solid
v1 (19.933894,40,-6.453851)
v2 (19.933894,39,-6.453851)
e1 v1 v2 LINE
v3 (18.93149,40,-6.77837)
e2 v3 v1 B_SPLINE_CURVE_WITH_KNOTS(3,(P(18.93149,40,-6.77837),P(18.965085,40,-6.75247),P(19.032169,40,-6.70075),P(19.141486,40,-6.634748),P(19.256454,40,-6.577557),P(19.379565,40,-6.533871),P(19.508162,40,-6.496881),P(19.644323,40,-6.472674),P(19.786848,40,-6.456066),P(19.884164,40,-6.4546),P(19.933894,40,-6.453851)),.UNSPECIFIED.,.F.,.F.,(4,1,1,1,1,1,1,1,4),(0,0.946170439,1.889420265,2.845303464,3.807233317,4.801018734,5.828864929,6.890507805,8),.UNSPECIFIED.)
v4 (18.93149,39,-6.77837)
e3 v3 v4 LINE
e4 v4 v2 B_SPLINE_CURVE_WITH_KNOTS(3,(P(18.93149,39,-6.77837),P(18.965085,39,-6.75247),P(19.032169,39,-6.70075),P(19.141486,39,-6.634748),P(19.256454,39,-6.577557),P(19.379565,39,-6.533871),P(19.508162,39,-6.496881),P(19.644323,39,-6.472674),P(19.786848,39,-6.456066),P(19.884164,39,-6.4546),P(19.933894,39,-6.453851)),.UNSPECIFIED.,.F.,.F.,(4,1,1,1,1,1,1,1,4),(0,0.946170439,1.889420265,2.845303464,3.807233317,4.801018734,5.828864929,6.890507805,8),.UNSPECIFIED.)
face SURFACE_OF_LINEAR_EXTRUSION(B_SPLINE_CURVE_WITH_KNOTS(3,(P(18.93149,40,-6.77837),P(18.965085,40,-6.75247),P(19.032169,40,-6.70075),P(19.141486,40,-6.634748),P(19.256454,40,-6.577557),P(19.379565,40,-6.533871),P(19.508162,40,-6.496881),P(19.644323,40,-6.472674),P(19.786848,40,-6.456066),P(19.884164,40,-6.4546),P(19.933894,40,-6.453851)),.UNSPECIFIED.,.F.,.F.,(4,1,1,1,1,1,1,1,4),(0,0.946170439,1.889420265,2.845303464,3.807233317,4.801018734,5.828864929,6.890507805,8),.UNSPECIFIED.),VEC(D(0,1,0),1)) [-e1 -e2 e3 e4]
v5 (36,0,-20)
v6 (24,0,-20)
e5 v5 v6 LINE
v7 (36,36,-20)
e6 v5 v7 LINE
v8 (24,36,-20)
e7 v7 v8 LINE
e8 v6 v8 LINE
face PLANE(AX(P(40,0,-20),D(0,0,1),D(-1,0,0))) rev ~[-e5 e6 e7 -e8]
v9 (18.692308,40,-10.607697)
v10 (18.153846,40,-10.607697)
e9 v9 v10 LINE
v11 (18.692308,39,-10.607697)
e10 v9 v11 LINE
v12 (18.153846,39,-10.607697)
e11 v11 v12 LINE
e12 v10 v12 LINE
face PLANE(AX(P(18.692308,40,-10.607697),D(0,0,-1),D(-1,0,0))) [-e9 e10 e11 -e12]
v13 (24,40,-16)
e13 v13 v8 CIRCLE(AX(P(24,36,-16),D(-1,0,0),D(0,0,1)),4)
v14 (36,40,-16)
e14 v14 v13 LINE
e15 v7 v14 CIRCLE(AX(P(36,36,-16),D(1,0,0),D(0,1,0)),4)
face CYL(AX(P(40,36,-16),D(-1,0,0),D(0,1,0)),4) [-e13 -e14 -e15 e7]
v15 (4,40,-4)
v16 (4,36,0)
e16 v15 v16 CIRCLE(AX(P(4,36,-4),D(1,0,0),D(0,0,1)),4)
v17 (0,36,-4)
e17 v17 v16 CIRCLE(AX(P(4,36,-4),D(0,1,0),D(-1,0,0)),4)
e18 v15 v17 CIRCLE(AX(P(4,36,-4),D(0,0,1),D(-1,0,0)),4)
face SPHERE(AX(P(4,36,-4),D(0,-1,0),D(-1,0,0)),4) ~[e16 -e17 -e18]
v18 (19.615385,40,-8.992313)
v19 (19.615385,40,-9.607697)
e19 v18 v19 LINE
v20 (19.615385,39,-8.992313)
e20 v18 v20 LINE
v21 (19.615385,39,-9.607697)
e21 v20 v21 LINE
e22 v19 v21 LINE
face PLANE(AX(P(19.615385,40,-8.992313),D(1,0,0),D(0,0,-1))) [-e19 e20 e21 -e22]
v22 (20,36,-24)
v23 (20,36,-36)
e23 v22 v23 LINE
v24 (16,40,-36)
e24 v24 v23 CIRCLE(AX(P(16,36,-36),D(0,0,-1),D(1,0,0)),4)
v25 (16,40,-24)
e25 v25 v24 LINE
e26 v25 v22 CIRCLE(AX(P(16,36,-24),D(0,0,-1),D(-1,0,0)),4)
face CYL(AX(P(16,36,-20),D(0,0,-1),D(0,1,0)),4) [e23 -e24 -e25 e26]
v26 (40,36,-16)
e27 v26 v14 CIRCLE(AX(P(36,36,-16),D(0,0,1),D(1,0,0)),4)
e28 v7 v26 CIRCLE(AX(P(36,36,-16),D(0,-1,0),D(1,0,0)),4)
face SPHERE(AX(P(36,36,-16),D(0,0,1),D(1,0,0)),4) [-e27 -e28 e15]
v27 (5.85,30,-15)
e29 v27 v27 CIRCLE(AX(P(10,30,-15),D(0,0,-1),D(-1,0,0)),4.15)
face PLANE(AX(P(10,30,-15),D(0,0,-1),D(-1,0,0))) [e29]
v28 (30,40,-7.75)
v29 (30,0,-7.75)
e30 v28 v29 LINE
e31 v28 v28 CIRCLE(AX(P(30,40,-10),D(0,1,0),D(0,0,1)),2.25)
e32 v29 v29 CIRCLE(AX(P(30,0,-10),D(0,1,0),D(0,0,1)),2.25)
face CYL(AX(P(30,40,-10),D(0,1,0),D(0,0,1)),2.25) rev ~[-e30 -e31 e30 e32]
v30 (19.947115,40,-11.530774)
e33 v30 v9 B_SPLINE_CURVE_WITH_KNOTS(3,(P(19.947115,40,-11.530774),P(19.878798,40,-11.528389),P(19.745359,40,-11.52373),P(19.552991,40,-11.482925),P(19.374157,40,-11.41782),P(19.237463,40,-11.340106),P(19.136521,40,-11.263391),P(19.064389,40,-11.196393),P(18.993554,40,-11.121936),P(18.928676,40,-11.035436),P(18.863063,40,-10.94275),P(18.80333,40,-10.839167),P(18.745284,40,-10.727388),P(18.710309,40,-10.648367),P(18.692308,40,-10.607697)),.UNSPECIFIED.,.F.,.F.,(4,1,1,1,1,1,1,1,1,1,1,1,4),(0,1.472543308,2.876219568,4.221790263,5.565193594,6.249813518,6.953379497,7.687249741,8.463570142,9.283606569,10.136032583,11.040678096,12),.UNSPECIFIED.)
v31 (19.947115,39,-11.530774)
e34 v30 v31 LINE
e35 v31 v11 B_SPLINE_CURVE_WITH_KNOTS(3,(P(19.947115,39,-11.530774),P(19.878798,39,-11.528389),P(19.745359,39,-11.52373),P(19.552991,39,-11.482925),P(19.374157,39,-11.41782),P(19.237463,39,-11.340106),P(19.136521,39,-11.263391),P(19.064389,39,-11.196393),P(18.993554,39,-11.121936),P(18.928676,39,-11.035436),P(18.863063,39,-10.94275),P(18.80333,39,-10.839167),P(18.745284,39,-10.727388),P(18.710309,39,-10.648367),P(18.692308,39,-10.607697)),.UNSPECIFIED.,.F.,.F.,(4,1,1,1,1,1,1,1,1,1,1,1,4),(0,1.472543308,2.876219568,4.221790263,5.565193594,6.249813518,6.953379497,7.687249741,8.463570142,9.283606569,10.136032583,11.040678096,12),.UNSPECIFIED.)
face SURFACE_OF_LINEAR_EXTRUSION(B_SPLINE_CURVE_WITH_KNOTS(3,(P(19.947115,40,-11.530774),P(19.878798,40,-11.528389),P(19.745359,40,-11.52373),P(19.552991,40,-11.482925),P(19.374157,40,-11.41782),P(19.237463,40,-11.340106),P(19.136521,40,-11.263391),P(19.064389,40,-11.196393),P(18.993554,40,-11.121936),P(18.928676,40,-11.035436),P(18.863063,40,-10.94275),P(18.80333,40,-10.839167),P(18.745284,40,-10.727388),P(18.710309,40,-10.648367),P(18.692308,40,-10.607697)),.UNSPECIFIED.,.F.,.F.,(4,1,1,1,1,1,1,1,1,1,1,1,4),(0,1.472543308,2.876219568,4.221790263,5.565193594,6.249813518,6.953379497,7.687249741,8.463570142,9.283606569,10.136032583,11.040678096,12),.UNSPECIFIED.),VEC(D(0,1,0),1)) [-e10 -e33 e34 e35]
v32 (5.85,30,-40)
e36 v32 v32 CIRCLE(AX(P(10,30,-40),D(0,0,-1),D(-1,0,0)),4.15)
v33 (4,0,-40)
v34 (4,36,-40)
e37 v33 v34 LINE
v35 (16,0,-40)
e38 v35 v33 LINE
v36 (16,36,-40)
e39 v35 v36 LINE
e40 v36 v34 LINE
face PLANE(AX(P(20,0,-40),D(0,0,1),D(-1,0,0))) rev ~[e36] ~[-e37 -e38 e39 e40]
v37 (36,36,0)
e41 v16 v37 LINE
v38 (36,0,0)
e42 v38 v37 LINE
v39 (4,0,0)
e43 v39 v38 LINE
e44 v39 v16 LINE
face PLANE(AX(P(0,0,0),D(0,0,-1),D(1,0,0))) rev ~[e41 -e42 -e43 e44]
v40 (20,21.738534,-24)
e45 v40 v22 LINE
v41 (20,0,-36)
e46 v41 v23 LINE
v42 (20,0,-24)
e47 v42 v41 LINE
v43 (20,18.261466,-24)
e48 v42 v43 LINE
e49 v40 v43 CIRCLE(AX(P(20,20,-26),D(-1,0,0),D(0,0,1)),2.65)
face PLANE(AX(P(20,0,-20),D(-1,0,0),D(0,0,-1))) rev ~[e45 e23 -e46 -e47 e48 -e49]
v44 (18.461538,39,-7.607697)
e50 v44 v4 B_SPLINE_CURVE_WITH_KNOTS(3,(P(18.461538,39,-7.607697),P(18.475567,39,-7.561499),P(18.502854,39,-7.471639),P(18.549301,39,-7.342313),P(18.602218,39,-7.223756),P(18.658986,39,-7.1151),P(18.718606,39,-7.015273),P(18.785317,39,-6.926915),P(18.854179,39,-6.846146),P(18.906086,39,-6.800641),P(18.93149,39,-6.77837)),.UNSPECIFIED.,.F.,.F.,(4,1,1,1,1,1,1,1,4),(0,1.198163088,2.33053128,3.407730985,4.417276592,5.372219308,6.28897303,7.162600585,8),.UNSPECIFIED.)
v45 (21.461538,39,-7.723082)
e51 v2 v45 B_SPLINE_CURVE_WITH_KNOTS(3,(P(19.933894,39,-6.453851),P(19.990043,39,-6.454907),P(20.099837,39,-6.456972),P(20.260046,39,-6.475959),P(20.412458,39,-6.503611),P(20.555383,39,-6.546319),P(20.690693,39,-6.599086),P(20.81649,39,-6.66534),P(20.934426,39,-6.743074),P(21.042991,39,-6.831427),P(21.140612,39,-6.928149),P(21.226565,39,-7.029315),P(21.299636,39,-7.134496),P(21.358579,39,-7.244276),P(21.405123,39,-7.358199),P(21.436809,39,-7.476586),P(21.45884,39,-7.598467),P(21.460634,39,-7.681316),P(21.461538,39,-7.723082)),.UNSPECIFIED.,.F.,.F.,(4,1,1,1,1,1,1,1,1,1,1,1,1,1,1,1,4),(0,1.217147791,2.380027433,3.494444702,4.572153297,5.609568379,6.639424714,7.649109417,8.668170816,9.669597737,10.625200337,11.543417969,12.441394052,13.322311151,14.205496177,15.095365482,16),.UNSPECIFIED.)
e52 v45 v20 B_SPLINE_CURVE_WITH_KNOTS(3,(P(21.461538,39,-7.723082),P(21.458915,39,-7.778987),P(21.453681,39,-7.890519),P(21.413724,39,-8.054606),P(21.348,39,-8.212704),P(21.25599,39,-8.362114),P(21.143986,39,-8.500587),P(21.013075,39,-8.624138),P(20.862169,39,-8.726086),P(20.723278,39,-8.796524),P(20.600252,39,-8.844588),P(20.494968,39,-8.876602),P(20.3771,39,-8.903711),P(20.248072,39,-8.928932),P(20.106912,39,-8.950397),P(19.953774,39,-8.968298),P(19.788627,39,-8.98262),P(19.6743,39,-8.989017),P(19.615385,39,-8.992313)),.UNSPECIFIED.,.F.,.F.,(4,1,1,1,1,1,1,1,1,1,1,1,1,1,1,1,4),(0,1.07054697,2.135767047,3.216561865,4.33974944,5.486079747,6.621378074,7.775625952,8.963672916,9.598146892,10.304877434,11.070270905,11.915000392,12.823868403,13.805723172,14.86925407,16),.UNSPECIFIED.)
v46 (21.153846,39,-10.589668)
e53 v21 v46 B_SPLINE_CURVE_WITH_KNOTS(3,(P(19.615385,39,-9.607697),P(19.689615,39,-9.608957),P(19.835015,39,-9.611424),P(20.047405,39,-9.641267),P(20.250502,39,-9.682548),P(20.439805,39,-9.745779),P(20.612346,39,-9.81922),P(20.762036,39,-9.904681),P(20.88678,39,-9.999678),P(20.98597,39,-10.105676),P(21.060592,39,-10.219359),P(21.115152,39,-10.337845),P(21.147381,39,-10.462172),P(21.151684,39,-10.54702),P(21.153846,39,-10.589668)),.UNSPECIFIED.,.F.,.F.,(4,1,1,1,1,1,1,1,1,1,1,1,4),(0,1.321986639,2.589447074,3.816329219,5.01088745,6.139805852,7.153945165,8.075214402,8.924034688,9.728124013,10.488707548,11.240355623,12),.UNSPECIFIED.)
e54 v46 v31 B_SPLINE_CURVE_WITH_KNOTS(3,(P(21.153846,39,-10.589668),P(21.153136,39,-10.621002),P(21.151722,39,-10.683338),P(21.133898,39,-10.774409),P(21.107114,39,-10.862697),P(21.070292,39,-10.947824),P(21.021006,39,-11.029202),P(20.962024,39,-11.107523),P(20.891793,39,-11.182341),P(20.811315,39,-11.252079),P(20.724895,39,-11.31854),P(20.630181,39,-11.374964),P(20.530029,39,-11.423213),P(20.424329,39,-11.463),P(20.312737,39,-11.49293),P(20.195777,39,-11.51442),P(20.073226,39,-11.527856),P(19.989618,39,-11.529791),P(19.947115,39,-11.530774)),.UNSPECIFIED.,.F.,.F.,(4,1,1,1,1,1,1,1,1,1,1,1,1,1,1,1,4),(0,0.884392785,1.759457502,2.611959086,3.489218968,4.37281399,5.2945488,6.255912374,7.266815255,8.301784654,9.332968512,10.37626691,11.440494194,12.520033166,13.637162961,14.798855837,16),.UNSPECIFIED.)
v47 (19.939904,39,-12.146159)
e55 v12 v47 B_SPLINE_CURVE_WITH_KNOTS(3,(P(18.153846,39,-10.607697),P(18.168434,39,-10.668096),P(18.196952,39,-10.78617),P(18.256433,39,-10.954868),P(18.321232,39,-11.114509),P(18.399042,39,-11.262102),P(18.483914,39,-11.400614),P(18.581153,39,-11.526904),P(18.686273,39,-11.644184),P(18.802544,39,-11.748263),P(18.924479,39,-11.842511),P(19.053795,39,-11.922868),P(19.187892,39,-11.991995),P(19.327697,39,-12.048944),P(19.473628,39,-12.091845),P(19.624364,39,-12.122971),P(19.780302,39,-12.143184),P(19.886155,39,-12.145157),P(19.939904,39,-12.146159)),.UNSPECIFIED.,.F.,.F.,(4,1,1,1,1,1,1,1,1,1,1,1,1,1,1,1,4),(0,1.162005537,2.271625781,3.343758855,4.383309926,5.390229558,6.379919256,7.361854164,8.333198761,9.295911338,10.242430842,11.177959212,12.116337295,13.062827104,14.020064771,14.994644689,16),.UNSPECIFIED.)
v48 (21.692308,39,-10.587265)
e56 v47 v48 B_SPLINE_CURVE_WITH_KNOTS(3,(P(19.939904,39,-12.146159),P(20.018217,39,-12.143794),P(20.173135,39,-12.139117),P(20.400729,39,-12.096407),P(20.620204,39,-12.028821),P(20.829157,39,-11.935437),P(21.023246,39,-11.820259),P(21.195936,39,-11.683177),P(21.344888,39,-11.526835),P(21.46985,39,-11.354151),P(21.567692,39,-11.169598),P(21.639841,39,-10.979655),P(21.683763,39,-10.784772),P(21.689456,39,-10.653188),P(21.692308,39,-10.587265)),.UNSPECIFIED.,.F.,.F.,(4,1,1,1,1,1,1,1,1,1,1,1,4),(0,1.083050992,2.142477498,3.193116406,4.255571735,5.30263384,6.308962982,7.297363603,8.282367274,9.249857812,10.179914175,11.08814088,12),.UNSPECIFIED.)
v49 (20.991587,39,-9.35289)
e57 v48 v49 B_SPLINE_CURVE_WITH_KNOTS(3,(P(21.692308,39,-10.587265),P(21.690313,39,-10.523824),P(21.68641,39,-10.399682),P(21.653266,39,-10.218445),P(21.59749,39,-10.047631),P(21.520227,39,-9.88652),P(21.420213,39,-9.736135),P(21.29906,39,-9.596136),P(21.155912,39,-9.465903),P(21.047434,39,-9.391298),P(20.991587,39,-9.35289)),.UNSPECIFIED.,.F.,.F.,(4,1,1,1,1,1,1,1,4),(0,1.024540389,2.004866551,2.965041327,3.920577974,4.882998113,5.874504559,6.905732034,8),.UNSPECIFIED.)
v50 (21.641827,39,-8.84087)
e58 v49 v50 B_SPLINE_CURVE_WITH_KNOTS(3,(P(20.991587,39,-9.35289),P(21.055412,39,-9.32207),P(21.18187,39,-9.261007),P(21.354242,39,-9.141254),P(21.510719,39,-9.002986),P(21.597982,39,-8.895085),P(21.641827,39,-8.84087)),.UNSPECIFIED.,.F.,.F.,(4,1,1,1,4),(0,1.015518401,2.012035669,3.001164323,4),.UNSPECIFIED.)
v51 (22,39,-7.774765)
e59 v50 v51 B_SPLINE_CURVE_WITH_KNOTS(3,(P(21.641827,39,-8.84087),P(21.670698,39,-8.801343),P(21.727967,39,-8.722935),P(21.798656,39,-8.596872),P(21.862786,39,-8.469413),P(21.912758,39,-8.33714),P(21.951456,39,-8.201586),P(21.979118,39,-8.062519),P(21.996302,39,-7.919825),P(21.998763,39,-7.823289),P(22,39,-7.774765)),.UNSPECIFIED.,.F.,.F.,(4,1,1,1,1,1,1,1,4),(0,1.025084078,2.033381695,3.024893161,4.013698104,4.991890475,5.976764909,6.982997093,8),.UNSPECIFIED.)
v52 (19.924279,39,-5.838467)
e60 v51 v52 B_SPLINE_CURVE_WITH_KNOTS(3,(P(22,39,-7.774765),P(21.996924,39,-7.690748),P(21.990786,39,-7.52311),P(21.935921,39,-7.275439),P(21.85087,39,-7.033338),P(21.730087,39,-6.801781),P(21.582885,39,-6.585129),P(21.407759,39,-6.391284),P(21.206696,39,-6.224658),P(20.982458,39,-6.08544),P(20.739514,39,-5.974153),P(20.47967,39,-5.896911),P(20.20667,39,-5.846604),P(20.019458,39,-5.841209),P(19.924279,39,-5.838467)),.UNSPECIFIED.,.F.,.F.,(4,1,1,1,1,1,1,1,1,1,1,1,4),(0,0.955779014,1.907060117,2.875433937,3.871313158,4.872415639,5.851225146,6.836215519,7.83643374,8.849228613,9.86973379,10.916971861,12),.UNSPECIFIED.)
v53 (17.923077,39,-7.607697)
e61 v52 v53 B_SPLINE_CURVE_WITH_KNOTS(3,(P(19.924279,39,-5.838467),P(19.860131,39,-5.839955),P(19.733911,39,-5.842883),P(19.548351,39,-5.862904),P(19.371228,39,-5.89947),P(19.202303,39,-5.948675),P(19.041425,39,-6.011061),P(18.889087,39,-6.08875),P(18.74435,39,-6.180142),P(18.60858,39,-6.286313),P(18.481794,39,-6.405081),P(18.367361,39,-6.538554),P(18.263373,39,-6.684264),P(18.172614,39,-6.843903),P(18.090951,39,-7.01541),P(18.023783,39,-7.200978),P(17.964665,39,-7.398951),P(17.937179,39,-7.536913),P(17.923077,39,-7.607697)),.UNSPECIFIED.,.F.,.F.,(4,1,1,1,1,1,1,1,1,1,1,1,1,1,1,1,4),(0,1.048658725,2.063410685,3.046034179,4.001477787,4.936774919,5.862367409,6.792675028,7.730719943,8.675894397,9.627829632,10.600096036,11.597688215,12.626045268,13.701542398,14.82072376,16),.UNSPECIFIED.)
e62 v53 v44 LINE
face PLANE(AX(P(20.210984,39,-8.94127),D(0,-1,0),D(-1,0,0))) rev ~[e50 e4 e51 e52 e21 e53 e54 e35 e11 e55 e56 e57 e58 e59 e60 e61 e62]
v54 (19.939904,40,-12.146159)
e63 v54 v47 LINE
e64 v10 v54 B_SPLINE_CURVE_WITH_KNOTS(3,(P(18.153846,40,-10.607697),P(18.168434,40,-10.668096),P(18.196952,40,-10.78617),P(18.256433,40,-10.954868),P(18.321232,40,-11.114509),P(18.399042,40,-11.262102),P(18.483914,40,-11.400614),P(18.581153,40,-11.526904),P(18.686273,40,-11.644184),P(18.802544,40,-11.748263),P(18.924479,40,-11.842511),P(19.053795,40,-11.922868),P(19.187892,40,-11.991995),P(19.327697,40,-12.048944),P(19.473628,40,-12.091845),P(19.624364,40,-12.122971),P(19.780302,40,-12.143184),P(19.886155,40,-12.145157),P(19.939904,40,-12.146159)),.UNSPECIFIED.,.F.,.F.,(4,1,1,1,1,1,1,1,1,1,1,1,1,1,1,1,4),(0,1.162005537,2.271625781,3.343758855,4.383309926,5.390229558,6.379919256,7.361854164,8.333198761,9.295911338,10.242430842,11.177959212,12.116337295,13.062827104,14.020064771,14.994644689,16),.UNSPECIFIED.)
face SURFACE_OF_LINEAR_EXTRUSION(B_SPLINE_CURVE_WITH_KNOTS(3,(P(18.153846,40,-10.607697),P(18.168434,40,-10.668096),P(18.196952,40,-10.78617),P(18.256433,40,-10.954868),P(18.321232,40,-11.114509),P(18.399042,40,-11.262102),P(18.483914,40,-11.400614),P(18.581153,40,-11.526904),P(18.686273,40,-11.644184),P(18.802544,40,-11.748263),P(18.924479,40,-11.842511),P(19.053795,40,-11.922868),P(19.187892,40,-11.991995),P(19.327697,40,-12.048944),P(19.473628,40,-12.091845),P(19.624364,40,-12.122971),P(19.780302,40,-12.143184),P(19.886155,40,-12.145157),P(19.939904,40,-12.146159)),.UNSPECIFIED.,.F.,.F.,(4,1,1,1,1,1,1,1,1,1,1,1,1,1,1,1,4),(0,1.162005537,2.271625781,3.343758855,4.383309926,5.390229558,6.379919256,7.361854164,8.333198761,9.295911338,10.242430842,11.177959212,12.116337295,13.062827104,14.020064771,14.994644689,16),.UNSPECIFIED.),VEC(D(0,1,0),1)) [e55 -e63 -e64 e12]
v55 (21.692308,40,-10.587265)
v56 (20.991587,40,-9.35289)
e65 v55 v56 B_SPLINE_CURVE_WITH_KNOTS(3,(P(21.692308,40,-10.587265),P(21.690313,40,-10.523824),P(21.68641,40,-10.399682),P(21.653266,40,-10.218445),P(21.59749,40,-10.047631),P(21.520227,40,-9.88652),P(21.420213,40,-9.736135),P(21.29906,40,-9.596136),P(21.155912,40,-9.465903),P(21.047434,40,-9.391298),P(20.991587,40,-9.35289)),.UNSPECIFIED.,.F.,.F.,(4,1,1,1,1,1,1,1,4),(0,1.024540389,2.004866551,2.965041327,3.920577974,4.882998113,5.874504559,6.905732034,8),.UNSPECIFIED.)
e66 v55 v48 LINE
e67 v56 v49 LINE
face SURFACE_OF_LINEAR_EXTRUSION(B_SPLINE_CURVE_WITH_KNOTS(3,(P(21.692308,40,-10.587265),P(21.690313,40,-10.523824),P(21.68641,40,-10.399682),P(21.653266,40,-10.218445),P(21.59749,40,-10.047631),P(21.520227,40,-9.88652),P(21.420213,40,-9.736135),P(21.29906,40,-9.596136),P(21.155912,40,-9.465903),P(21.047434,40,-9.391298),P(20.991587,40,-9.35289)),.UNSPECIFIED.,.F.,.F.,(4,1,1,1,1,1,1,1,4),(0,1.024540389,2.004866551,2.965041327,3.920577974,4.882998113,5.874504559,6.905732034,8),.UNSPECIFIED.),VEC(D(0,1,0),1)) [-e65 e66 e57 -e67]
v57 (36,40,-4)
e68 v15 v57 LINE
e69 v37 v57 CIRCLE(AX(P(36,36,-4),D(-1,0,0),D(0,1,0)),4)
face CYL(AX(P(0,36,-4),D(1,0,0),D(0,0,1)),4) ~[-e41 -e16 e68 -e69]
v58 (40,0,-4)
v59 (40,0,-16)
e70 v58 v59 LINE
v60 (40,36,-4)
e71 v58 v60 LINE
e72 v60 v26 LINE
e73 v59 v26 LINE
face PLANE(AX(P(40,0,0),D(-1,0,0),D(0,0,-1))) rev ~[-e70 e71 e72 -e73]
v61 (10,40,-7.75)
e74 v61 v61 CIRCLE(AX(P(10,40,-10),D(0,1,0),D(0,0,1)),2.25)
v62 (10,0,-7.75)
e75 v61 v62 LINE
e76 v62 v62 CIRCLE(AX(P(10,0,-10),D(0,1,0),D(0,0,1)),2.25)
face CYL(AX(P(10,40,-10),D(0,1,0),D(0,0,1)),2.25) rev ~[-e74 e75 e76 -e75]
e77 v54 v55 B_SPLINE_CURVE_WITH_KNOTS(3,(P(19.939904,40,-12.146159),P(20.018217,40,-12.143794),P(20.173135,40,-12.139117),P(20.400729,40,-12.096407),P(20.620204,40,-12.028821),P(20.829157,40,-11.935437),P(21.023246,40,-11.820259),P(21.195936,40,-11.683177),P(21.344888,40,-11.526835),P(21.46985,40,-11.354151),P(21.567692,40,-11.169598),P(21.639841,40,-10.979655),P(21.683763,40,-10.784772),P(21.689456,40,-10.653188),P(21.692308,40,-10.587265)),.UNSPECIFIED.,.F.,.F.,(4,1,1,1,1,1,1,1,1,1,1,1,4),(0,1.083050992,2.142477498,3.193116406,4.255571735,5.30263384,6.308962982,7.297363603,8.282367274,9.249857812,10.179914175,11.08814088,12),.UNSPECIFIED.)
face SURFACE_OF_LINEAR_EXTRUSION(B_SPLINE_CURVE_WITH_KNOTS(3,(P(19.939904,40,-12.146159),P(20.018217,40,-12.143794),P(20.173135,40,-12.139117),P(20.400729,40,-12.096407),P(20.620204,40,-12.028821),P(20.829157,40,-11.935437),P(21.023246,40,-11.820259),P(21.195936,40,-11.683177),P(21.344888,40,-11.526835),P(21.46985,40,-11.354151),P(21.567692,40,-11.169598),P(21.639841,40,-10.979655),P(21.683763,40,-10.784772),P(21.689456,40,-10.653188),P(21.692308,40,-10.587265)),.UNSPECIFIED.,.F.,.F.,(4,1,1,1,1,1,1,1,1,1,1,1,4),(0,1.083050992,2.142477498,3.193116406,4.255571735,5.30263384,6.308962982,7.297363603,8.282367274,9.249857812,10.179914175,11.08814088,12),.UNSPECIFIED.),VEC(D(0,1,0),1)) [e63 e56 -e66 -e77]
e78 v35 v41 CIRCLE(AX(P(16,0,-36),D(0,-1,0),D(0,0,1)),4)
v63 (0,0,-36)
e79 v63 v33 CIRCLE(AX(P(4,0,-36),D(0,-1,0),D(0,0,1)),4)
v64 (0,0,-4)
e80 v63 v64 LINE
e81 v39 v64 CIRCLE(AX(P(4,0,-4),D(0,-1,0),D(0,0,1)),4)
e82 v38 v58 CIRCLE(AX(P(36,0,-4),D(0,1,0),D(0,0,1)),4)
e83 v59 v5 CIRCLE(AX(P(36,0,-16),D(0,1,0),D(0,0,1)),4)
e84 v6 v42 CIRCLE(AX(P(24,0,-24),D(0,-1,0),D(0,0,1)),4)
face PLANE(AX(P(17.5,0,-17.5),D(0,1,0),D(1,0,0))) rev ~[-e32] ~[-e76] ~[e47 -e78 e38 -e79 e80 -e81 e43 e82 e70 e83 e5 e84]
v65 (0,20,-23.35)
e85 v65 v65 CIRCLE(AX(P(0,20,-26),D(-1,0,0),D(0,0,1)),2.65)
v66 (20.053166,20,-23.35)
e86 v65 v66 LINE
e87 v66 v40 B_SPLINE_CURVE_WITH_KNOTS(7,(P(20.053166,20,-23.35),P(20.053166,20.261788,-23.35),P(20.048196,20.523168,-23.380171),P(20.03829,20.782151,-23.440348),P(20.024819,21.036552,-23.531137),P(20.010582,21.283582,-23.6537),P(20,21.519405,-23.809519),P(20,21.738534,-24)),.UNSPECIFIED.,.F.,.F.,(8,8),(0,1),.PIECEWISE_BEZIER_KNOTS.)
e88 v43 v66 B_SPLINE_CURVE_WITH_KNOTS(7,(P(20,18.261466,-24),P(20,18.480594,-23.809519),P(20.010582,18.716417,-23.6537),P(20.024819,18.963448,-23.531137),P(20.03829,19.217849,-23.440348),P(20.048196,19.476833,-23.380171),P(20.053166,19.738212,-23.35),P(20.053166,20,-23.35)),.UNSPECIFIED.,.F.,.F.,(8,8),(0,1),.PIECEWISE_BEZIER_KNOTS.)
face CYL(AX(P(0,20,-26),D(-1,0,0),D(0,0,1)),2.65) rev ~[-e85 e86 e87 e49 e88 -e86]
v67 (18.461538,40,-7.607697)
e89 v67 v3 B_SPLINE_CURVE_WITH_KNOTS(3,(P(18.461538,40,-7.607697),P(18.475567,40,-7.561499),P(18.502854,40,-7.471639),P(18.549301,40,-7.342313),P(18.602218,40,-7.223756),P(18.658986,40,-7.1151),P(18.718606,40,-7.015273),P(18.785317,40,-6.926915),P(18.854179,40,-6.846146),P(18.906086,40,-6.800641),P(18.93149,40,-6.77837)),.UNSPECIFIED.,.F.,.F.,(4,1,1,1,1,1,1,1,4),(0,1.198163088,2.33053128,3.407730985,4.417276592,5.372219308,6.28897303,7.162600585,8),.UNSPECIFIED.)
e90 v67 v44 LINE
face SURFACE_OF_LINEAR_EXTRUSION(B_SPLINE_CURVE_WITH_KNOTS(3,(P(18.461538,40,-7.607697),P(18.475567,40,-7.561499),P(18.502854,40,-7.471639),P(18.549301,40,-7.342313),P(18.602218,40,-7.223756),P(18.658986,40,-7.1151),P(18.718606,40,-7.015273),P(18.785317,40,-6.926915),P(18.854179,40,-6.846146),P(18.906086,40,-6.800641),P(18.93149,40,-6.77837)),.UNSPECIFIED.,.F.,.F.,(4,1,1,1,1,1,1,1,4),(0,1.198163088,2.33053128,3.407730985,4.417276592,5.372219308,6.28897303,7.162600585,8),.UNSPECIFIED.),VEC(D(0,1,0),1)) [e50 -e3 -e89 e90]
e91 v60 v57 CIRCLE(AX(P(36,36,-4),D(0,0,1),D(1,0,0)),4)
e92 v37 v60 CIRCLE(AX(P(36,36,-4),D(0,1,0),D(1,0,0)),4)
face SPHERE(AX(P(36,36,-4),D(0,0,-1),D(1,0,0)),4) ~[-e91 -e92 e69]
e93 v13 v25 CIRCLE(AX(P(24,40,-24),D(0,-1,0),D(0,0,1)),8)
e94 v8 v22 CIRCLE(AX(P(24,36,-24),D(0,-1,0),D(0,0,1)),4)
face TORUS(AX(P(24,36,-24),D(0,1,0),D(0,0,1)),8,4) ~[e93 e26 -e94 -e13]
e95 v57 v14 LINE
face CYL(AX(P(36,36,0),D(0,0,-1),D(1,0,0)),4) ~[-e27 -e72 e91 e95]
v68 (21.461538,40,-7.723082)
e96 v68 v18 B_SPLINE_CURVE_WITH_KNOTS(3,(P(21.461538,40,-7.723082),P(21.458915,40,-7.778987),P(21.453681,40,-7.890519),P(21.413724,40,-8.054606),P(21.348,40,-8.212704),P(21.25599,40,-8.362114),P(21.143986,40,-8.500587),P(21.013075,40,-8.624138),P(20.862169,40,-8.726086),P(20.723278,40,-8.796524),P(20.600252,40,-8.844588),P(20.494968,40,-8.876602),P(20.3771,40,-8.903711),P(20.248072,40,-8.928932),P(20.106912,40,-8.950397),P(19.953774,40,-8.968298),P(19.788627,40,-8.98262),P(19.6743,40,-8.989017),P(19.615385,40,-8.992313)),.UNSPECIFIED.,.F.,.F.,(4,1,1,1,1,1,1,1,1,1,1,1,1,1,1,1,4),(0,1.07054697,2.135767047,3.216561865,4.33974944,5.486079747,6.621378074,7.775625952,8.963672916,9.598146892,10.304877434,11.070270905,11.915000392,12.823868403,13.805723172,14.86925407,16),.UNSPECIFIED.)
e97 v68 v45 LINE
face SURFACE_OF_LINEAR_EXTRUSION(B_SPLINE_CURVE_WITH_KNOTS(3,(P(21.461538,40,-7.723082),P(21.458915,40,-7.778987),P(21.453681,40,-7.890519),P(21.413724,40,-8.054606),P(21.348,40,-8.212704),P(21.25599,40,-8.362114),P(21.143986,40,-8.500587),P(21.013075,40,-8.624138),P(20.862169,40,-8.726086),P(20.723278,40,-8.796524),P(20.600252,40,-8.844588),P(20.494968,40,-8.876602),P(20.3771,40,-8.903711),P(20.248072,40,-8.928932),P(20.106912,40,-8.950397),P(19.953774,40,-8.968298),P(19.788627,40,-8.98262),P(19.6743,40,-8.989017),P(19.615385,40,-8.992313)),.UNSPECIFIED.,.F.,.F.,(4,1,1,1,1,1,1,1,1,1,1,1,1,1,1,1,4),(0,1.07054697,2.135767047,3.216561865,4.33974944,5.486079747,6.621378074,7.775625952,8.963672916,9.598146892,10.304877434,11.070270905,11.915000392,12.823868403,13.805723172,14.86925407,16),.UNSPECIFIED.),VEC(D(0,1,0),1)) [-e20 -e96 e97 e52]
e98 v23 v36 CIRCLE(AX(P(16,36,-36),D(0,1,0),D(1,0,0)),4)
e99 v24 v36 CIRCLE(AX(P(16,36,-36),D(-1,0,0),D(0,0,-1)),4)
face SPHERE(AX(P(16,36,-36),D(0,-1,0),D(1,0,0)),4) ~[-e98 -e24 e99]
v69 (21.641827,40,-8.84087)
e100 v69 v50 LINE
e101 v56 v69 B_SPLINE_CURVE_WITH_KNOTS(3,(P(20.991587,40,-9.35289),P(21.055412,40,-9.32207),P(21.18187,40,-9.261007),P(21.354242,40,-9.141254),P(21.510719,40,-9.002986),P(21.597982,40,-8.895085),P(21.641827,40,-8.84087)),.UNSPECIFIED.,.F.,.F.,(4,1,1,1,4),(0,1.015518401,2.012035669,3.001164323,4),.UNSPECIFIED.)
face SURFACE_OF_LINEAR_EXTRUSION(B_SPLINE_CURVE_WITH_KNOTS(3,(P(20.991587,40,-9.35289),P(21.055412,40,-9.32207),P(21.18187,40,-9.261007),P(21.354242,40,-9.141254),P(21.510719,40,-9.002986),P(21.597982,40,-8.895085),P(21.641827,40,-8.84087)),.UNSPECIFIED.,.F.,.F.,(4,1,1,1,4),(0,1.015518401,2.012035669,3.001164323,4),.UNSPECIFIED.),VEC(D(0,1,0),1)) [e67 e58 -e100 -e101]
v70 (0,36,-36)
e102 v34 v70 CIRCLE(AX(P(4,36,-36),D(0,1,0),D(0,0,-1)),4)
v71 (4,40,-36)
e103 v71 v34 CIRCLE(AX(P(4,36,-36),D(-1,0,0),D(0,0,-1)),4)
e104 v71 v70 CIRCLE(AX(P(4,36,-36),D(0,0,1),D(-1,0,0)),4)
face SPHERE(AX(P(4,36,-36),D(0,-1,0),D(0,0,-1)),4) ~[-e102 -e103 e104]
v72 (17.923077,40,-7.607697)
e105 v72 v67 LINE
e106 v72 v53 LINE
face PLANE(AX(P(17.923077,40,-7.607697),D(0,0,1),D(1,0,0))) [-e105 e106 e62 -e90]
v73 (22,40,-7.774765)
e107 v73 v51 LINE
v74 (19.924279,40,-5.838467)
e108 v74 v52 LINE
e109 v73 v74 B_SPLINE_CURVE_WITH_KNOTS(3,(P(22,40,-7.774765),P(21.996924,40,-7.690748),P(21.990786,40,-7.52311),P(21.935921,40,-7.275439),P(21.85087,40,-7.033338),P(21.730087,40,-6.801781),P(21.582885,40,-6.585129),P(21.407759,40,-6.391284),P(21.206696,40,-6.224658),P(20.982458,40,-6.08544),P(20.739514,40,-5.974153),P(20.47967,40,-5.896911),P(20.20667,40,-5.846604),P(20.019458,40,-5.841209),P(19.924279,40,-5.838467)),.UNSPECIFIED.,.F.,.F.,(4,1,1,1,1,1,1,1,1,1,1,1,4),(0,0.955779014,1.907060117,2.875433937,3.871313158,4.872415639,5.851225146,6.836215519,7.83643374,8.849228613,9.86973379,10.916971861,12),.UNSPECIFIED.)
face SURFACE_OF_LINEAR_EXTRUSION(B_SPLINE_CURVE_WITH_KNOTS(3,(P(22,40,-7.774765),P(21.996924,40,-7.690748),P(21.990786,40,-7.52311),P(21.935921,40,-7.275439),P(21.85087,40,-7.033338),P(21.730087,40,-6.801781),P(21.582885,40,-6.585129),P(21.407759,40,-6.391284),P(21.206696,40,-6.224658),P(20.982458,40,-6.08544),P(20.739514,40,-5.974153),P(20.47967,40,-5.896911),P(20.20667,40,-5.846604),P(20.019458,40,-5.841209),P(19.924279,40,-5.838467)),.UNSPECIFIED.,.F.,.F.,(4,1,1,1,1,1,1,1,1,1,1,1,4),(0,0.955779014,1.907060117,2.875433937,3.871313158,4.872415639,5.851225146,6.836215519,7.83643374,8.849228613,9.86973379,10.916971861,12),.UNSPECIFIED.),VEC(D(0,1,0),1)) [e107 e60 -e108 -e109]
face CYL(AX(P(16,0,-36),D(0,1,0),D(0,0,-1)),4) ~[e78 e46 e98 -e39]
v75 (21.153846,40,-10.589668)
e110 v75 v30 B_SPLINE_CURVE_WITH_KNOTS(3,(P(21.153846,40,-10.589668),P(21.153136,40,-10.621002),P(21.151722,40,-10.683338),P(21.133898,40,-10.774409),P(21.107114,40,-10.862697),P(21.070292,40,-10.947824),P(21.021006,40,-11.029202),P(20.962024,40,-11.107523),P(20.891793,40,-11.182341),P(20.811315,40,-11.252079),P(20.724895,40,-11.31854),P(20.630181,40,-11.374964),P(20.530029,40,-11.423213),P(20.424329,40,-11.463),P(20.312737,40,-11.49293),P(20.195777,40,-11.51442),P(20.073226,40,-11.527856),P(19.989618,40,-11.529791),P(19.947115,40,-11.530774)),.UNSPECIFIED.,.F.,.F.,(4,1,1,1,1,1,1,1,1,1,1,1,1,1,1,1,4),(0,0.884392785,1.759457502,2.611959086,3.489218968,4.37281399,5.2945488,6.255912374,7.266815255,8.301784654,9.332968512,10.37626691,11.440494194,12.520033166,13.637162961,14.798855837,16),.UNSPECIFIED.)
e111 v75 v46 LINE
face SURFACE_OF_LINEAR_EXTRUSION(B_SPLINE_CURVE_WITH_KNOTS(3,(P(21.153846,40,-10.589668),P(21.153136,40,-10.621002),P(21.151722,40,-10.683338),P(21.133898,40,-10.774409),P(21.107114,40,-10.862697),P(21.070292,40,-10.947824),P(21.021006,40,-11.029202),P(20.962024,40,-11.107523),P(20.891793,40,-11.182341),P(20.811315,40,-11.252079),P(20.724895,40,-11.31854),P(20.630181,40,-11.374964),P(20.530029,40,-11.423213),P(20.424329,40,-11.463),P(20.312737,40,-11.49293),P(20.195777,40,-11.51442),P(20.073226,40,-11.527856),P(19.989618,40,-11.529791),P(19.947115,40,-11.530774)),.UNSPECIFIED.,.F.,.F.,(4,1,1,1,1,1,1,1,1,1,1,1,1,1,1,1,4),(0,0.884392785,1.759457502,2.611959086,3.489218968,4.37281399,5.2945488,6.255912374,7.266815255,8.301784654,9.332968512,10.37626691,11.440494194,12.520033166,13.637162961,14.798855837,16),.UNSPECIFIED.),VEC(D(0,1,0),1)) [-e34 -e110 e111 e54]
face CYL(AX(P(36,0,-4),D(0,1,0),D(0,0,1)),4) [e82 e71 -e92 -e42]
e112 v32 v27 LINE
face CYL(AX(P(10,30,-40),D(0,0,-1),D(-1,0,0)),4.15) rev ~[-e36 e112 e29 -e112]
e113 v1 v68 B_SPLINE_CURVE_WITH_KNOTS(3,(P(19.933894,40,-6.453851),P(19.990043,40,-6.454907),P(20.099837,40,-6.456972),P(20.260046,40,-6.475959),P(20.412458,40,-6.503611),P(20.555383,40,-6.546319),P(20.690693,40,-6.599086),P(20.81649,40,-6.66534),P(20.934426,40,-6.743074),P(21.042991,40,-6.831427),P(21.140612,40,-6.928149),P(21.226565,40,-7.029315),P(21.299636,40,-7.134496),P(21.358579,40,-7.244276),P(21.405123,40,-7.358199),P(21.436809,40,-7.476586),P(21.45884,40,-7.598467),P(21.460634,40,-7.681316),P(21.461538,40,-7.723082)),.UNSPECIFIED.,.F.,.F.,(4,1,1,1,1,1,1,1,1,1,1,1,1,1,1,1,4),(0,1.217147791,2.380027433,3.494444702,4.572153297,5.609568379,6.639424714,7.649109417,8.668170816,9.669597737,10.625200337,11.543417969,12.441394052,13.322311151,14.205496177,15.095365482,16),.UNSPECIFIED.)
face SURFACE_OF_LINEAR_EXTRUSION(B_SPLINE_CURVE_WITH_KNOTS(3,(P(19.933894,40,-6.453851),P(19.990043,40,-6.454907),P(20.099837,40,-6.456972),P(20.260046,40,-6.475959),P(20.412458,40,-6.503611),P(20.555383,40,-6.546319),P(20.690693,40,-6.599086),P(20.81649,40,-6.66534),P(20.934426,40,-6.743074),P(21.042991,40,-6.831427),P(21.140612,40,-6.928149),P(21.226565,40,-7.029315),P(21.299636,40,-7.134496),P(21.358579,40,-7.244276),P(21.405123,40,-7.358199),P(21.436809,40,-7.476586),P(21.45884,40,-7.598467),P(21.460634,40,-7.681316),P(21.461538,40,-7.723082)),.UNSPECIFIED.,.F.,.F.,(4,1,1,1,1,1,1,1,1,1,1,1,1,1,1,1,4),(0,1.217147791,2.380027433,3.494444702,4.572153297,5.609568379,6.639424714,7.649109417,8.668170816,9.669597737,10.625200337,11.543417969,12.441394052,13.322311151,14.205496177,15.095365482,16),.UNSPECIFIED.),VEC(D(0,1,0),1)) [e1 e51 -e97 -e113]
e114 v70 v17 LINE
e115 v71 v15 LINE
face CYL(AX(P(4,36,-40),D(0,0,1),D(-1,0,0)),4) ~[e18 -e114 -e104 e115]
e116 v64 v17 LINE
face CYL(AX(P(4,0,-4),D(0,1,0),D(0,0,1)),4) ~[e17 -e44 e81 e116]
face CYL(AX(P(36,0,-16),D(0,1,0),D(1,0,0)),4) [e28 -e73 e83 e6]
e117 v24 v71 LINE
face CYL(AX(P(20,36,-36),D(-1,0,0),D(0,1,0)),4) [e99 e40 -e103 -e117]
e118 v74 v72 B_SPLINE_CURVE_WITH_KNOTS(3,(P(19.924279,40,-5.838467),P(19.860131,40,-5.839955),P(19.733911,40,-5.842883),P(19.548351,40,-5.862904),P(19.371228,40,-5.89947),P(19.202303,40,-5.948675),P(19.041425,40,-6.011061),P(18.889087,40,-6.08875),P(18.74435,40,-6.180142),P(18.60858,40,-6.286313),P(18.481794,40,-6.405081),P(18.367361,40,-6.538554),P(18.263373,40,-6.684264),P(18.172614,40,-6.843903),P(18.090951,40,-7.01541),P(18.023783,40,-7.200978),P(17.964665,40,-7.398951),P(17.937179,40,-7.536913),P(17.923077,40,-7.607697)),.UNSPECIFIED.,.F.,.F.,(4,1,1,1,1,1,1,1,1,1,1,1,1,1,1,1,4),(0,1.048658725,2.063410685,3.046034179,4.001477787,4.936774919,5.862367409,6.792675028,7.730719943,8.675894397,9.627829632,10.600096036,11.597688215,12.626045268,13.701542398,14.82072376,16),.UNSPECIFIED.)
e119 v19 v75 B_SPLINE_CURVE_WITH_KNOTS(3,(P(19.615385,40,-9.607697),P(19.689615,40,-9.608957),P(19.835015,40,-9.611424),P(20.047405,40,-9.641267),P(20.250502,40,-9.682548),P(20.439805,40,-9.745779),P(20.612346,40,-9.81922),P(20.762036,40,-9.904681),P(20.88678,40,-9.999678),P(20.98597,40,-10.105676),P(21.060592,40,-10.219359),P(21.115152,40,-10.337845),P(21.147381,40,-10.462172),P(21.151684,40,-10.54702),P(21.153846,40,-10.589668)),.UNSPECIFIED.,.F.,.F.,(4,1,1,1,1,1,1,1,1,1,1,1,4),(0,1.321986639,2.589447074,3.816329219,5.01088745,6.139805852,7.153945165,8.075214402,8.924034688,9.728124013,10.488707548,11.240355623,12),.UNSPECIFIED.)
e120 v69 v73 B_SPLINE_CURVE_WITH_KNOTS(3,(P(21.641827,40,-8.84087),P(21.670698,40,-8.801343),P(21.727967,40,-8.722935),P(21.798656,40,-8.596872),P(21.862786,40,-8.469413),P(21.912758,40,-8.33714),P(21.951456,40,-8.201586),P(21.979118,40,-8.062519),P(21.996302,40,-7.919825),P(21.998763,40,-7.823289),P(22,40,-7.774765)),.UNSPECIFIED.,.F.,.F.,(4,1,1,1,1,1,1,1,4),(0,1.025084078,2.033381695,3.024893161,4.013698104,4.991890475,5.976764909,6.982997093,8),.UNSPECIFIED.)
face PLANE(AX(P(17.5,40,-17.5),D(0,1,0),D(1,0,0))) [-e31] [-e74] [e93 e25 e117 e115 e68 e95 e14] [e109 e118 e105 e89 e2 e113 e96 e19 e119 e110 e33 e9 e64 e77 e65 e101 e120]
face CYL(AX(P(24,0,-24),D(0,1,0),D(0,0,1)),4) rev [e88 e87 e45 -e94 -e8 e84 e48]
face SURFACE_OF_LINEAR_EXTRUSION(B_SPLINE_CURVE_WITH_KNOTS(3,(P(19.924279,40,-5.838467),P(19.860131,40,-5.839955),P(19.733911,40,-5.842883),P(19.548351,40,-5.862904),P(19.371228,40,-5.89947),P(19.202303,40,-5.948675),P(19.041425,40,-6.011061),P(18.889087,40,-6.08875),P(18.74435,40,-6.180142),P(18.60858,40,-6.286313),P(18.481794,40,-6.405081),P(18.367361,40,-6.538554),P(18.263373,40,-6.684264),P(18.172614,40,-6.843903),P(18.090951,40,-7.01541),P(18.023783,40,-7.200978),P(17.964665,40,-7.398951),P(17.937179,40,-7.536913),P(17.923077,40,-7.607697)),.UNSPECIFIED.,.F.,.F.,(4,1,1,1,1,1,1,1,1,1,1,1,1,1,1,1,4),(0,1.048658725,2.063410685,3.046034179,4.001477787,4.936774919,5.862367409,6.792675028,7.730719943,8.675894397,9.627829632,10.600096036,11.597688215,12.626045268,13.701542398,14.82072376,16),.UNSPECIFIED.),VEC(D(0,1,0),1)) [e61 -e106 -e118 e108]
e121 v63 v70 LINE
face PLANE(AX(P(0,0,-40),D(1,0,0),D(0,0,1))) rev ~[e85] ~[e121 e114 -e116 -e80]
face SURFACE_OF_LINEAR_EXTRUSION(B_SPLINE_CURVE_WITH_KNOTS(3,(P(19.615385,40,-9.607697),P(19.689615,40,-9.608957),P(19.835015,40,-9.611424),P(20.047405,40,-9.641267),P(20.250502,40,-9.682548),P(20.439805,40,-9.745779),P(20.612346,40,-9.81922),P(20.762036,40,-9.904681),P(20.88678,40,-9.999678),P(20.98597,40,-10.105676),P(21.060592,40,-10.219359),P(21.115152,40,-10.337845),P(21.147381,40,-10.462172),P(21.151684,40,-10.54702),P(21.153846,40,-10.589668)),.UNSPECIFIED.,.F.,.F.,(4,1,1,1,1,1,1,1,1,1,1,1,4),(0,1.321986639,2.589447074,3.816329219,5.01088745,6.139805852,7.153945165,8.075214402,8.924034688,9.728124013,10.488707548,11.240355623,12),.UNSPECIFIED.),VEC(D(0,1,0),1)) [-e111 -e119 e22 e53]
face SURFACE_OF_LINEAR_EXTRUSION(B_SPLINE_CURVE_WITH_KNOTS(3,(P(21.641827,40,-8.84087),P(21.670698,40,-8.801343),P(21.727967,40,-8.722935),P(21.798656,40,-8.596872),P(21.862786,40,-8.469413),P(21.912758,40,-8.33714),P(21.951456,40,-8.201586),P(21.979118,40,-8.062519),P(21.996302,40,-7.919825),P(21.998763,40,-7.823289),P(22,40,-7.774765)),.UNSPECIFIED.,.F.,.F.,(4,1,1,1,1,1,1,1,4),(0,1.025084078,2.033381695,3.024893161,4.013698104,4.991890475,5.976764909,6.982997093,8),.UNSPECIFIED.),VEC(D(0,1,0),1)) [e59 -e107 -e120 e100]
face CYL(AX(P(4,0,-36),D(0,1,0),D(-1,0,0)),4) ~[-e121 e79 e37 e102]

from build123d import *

# Parameters (mm, degrees)
SALIENTE_EXTRUIR1_DEPTH = 40
CORTAR_EXTRUIR1_REACH   = 71.282
CROQUIS2_R              = 2.25
REDONDEO3_R             = 4
CROQUIS3_R              = 4.15
CORTAR_EXTRUIR3_DEPTH   = 25
CORTAR_EXTRUIR5_DEPTH   = 1
CROQUIS7_R              = 2.65
CORTAR_EXTRUIR6_DEPTH   = 70.28203236


with BuildPart() as part:
    # Croquis1 → Saliente-Extruir1 (new body)
    with BuildSketch(Plane(origin=(0, 0, 0), x_dir=(1, 0, 0), z_dir=(0, 1, 0))):
        Polygon((0, 0), (40, 0), (40, 20), (20, 20), (20, 40), (0, 40), align=None)
    extrude(amount=SALIENTE_EXTRUIR1_DEPTH)

    # Croquis2 → Cortar-Extruir1 (cut, up to next)
    with BuildSketch(Plane(origin=(0, 40, 0), x_dir=(1, 0, 0), z_dir=(0, 1, 0)), mode=Mode.PRIVATE) as cortar_extruir1_sk1:
        with Locations(Location((30, 10, 0), (0, 0, 270))):
            Circle(CROQUIS2_R)
    cortar_extruir1_tool1 = extrude(cortar_extruir1_sk1.sketch, amount=-CORTAR_EXTRUIR1_REACH, mode=Mode.PRIVATE) & part.part
    # Croquis2 → Cortar-Extruir1 (cut, up to next)
    with BuildSketch(Plane(origin=(0, 40, 0), x_dir=(1, 0, 0), z_dir=(0, 1, 0)), mode=Mode.PRIVATE) as cortar_extruir1_sk2:
        with Locations(Location((10, 10, 0), (0, 0, 270))):
            Circle(CROQUIS2_R)
    cortar_extruir1_tool2 = extrude(cortar_extruir1_sk2.sketch, amount=-CORTAR_EXTRUIR1_REACH, mode=Mode.PRIVATE) & part.part
    add(cortar_extruir1_tool1.solids().sort_by_distance((30, 40, -10))[0], mode=Mode.SUBTRACT)
    add(cortar_extruir1_tool2.solids().sort_by_distance((10, 40, -10))[0], mode=Mode.SUBTRACT)

    # Redondeo3
    redondeo3_edges = [part.edges().sort_by_distance(p)[0] for p in [
        (40, 40, -10),
        (0, 20, -40),
        (20, 20, -40),
        (20, 20, -20),
        (40, 20, -20),
        (40, 20, 0),
        (0, 20, 0),
        (30, 40, -20),
        (20, 40, -30),
        (10, 40, -40),
        (0, 40, -20),
        (20, 40, 0),
    ]]
    fillet(redondeo3_edges, radius=REDONDEO3_R)

    # Croquis3 → Cortar-Extruir3 (cut)
    with BuildSketch(Plane(origin=(0, 0, -40), x_dir=(-1, 0, 0), z_dir=(0, 0, -1))):
        with Locations((-10, 30)):
            Circle(CROQUIS3_R)
    extrude(amount=-CORTAR_EXTRUIR3_DEPTH, mode=Mode.SUBTRACT)

    # Croquis6 → Cortar-Extruir5 (cut)
    with BuildSketch(Plane(origin=(0, 40, 0), x_dir=(1, 0, 0), z_dir=(0, 1, 0))):
        with BuildLine():
            Line((18.692307692, 10.607697294), (18.153846154, 10.607697294))
            add(Edge.make_bspline(
                [(18.153846154, 10.607697294), (18.168433955, 10.668095838), (18.196951913, 10.786170051), (18.256433468, 10.954868213), (18.321232191, 11.114508535), (18.399042084, 11.262101804), (18.483914234, 11.400614209), (18.581153186, 11.526904137), (18.68627271, 11.644183506), (18.802544052, 11.748263342), (18.9244789, 11.842510878), (19.053795391, 11.922868119), (19.18789178, 11.991995238), (19.327697151, 12.048944207), (19.473627731, 12.091845105), (19.624364228, 12.122971057), (19.780301657, 12.143184396), (19.88615467, 12.145157132), (19.939903846, 12.146158832)],
                knots=[0, 0, 0, 0, 1.162005537, 2.271625781, 3.343758855, 4.383309926, 5.390229558, 6.379919256, 7.361854164, 8.333198761, 9.295911338, 10.242430842, 11.177959212, 12.116337295, 13.062827104, 14.020064771, 14.994644689, 16, 16, 16, 16], degree=3))
            add(Edge.make_bspline(
                [(19.939903846, 12.146158832), (20.018217118, 12.143794438), (20.173135423, 12.139117223), (20.400729218, 12.09640676), (20.620203765, 12.028820819), (20.829156761, 11.935437287), (21.023245502, 11.820259036), (21.195936108, 11.683176629), (21.344887841, 11.52683497), (21.469849631, 11.354150574), (21.567692487, 11.169598272), (21.639840556, 10.979655145), (21.683763437, 10.784771766), (21.689455821, 10.653187859), (21.692307692, 10.587264602)],
                knots=[0, 0, 0, 0, 1.083050992, 2.142477498, 3.193116406, 4.255571735, 5.30263384, 6.308962982, 7.297363603, 8.282367274, 9.249857812, 10.179914175, 11.08814088, 12, 12, 12, 12], degree=3))
            add(Edge.make_bspline(
                [(21.692307692, 10.587264602), (21.690312965, 10.523824382), (21.686409593, 10.399681717), (21.653266097, 10.218444865), (21.597489647, 10.047630693), (21.520227197, 9.88652013), (21.42021311, 9.73613469), (21.299059916, 9.59613602), (21.155912496, 9.465903177), (21.047434316, 9.391298367), (20.991586538, 9.352889602)],
                knots=[0, 0, 0, 0, 1.024540389, 2.004866551, 2.965041327, 3.920577974, 4.882998113, 5.874504559, 6.905732034, 8, 8, 8, 8], degree=3))
            add(Edge.make_bspline(
                [(20.991586538, 9.352889602), (21.055412403, 9.322069879), (21.181869902, 9.261007095), (21.354242239, 9.141254367), (21.510718596, 9.002986343), (21.597982115, 8.895084653), (21.641826923, 8.840870371)],
                knots=[0, 0, 0, 0, 1.015518401, 2.012035669, 3.001164323, 4, 4, 4, 4], degree=3))
            add(Edge.make_bspline(
                [(21.641826923, 8.840870371), (21.670697796, 8.801342797), (21.72796676, 8.72293494), (21.798656247, 8.596872495), (21.862786157, 8.469412799), (21.912757962, 8.337139532), (21.951456019, 8.201585794), (21.979117789, 8.06251883), (21.99630203, 7.919825077), (21.998762976, 7.823289396), (22, 7.774764602)],
                knots=[0, 0, 0, 0, 1.025084078, 2.033381695, 3.024893161, 4.013698104, 4.991890475, 5.976764909, 6.982997093, 8, 8, 8, 8], degree=3))
            add(Edge.make_bspline(
                [(22, 7.774764602), (21.996923691, 7.690747937), (21.99078555, 7.523109991), (21.935921423, 7.275439039), (21.850870153, 7.033338178), (21.730086835, 6.801781311), (21.582885391, 6.585129229), (21.407758549, 6.391284128), (21.206696135, 6.224657949), (20.98245788, 6.085440416), (20.739514231, 5.974152549), (20.479670359, 5.896911218), (20.206670266, 5.84660379), (20.019457756, 5.841209158), (19.924278846, 5.838466525)],
                knots=[0, 0, 0, 0, 0.955779014, 1.907060117, 2.875433937, 3.871313158, 4.872415639, 5.851225146, 6.836215519, 7.83643374, 8.849228613, 9.86973379, 10.916971861, 12, 12, 12, 12], degree=3))
            add(Edge.make_bspline(
                [(19.924278846, 5.838466525), (19.860131474, 5.83995489), (19.733910837, 5.842883498), (19.548350554, 5.862903957), (19.371227641, 5.89946968), (19.202302616, 5.948675346), (19.041425411, 6.01106119), (18.889086945, 6.088750387), (18.744349984, 6.180141533), (18.608580354, 6.286313398), (18.481794238, 6.405081409), (18.367360996, 6.538553997), (18.26337278, 6.684263833), (18.172613971, 6.843903357), (18.090950623, 7.015409513), (18.023783269, 7.200978367), (17.964665151, 7.398950976), (17.937179213, 7.536912817), (17.923076923, 7.607697294)],
                knots=[0, 0, 0, 0, 1.048658725, 2.063410685, 3.046034179, 4.001477787, 4.936774919, 5.862367409, 6.792675028, 7.730719943, 8.675894397, 9.627829632, 10.600096036, 11.597688215, 12.626045268, 13.701542398, 14.82072376, 16, 16, 16, 16], degree=3))
            Line((17.923076923, 7.607697294), (18.461538462, 7.607697294))
            add(Edge.make_bspline(
                [(18.461538462, 7.607697294), (18.475566961, 7.561498986), (18.502853611, 7.471639263), (18.549300979, 7.342313024), (18.602218017, 7.223756362), (18.658985832, 7.115099581), (18.718606025, 7.015272606), (18.785317326, 6.926915116), (18.854178717, 6.846146198), (18.90608618, 6.800641149), (18.931490385, 6.778370371)],
                knots=[0, 0, 0, 0, 1.198163088, 2.33053128, 3.407730985, 4.417276592, 5.372219308, 6.28897303, 7.162600585, 8, 8, 8, 8], degree=3))
            add(Edge.make_bspline(
                [(18.931490385, 6.778370371), (18.965084516, 6.75247037), (19.032169081, 6.700750315), (19.141486048, 6.634747524), (19.256454424, 6.577557195), (19.379565295, 6.533870859), (19.508162044, 6.496880583), (19.644323241, 6.472673979), (19.786847614, 6.456065685), (19.88416378, 6.454600089), (19.933894231, 6.45385114)],
                knots=[0, 0, 0, 0, 0.946170439, 1.889420265, 2.845303464, 3.807233317, 4.801018734, 5.828864929, 6.890507805, 8, 8, 8, 8], degree=3))
            add(Edge.make_bspline(
                [(19.933894231, 6.45385114), (19.990043092, 6.454906978), (20.099837344, 6.456971577), (20.260045675, 6.475958503), (20.412458442, 6.50361064), (20.555383457, 6.546318611), (20.690692899, 6.599085785), (20.816490012, 6.665340194), (20.934426194, 6.743074003), (21.042990889, 6.831426846), (21.140611759, 6.928149409), (21.226565211, 7.029314674), (21.299636059, 7.134496096), (21.358579336, 7.244275732), (21.405123136, 7.358198981), (21.436808623, 7.476585546), (21.458839792, 7.598466574), (21.460633984, 7.681316235), (21.461538462, 7.723081909)],
                knots=[0, 0, 0, 0, 1.217147791, 2.380027433, 3.494444702, 4.572153297, 5.609568379, 6.639424714, 7.649109417, 8.668170816, 9.669597737, 10.625200337, 11.543417969, 12.441394052, 13.322311151, 14.205496177, 15.095365482, 16, 16, 16, 16], degree=3))
            add(Edge.make_bspline(
                [(21.461538462, 7.723081909), (21.458915087, 7.778987062), (21.453681393, 7.89051919), (21.413723828, 8.05460646), (21.348000061, 8.212703739), (21.255990042, 8.362113665), (21.143985935, 8.500586639), (21.013074666, 8.624137752), (20.862169132, 8.726086479), (20.723277928, 8.796524176), (20.600251945, 8.844587733), (20.494968429, 8.876601958), (20.377099966, 8.903711082), (20.24807194, 8.928932119), (20.10691214, 8.950397287), (19.953774246, 8.968297543), (19.788627227, 8.98262047), (19.674299514, 8.989016633), (19.615384615, 8.992312679)],
                knots=[0, 0, 0, 0, 1.07054697, 2.135767047, 3.216561865, 4.33974944, 5.486079747, 6.621378074, 7.775625952, 8.963672916, 9.598146892, 10.304877434, 11.070270905, 11.915000392, 12.823868403, 13.805723172, 14.86925407, 16, 16, 16, 16], degree=3))
            Line((19.615384615, 8.992312679), (19.615384615, 9.607697294))
            add(Edge.make_bspline(
                [(19.615384615, 9.607697294), (19.689615185, 9.608956958), (19.835014636, 9.611424329), (20.047404873, 9.641266632), (20.25050198, 9.682547709), (20.439804966, 9.745779467), (20.612345617, 9.819219976), (20.762036364, 9.904680907), (20.886780045, 9.99967762), (20.985970453, 10.105676379), (21.060591988, 10.219359317), (21.115152212, 10.337845016), (21.147381343, 10.462171978), (21.151683629, 10.54701998), (21.153846154, 10.589668448)],
                knots=[0, 0, 0, 0, 1.321986639, 2.589447074, 3.816329219, 5.01088745, 6.139805852, 7.153945165, 8.075214402, 8.924034688, 9.728124013, 10.488707548, 11.240355623, 12, 12, 12, 12], degree=3))
            add(Edge.make_bspline(
                [(21.153846154, 10.589668448), (21.153135735, 10.621001725), (21.151722391, 10.683337795), (21.133898486, 10.774409341), (21.107114416, 10.862696677), (21.070292022, 10.947824351), (21.021005968, 11.029201964), (20.962024276, 11.107523305), (20.891793247, 11.182341212), (20.811315338, 11.252078902), (20.724895101, 11.318540452), (20.630181201, 11.37496383), (20.530029416, 11.423212507), (20.424328865, 11.463000225), (20.312736527, 11.492930434), (20.195776714, 11.514420447), (20.073226399, 11.527856427), (19.989617716, 11.529790854), (19.947115385, 11.530774217)],
                knots=[0, 0, 0, 0, 0.884392785, 1.759457502, 2.611959086, 3.489218968, 4.37281399, 5.2945488, 6.255912374, 7.266815255, 8.301784654, 9.332968512, 10.37626691, 11.440494194, 12.520033166, 13.637162961, 14.798855837, 16, 16, 16, 16], degree=3))
            add(Edge.make_bspline(
                [(19.947115385, 11.530774217), (19.878798239, 11.528389025), (19.745358966, 11.52373019), (19.552990537, 11.482925024), (19.374157393, 11.417819738), (19.237462536, 11.340105991), (19.13652098, 11.263390961), (19.064389086, 11.196392585), (18.993553925, 11.121936316), (18.928675622, 11.035436244), (18.863063091, 10.942750318), (18.803329557, 10.839166864), (18.74528437, 10.727387902), (18.71030857, 10.648366814), (18.692307692, 10.607697294)],
                knots=[0, 0, 0, 0, 1.472543308, 2.876219568, 4.221790263, 5.565193594, 6.249813518, 6.953379497, 7.687249741, 8.463570142, 9.283606569, 10.136032583, 11.040678096, 12, 12, 12, 12], degree=3))
        make_face()
    extrude(amount=-CORTAR_EXTRUIR5_DEPTH, mode=Mode.SUBTRACT)

    # Croquis7 → Cortar-Extruir6 (cut, through all)
    with BuildSketch(Plane.ZY):
        with Locations((-26, 20)):
            Circle(CROQUIS7_R)
    extrude(amount=-CORTAR_EXTRUIR6_DEPTH, mode=Mode.SUBTRACT)


solid = part.part
